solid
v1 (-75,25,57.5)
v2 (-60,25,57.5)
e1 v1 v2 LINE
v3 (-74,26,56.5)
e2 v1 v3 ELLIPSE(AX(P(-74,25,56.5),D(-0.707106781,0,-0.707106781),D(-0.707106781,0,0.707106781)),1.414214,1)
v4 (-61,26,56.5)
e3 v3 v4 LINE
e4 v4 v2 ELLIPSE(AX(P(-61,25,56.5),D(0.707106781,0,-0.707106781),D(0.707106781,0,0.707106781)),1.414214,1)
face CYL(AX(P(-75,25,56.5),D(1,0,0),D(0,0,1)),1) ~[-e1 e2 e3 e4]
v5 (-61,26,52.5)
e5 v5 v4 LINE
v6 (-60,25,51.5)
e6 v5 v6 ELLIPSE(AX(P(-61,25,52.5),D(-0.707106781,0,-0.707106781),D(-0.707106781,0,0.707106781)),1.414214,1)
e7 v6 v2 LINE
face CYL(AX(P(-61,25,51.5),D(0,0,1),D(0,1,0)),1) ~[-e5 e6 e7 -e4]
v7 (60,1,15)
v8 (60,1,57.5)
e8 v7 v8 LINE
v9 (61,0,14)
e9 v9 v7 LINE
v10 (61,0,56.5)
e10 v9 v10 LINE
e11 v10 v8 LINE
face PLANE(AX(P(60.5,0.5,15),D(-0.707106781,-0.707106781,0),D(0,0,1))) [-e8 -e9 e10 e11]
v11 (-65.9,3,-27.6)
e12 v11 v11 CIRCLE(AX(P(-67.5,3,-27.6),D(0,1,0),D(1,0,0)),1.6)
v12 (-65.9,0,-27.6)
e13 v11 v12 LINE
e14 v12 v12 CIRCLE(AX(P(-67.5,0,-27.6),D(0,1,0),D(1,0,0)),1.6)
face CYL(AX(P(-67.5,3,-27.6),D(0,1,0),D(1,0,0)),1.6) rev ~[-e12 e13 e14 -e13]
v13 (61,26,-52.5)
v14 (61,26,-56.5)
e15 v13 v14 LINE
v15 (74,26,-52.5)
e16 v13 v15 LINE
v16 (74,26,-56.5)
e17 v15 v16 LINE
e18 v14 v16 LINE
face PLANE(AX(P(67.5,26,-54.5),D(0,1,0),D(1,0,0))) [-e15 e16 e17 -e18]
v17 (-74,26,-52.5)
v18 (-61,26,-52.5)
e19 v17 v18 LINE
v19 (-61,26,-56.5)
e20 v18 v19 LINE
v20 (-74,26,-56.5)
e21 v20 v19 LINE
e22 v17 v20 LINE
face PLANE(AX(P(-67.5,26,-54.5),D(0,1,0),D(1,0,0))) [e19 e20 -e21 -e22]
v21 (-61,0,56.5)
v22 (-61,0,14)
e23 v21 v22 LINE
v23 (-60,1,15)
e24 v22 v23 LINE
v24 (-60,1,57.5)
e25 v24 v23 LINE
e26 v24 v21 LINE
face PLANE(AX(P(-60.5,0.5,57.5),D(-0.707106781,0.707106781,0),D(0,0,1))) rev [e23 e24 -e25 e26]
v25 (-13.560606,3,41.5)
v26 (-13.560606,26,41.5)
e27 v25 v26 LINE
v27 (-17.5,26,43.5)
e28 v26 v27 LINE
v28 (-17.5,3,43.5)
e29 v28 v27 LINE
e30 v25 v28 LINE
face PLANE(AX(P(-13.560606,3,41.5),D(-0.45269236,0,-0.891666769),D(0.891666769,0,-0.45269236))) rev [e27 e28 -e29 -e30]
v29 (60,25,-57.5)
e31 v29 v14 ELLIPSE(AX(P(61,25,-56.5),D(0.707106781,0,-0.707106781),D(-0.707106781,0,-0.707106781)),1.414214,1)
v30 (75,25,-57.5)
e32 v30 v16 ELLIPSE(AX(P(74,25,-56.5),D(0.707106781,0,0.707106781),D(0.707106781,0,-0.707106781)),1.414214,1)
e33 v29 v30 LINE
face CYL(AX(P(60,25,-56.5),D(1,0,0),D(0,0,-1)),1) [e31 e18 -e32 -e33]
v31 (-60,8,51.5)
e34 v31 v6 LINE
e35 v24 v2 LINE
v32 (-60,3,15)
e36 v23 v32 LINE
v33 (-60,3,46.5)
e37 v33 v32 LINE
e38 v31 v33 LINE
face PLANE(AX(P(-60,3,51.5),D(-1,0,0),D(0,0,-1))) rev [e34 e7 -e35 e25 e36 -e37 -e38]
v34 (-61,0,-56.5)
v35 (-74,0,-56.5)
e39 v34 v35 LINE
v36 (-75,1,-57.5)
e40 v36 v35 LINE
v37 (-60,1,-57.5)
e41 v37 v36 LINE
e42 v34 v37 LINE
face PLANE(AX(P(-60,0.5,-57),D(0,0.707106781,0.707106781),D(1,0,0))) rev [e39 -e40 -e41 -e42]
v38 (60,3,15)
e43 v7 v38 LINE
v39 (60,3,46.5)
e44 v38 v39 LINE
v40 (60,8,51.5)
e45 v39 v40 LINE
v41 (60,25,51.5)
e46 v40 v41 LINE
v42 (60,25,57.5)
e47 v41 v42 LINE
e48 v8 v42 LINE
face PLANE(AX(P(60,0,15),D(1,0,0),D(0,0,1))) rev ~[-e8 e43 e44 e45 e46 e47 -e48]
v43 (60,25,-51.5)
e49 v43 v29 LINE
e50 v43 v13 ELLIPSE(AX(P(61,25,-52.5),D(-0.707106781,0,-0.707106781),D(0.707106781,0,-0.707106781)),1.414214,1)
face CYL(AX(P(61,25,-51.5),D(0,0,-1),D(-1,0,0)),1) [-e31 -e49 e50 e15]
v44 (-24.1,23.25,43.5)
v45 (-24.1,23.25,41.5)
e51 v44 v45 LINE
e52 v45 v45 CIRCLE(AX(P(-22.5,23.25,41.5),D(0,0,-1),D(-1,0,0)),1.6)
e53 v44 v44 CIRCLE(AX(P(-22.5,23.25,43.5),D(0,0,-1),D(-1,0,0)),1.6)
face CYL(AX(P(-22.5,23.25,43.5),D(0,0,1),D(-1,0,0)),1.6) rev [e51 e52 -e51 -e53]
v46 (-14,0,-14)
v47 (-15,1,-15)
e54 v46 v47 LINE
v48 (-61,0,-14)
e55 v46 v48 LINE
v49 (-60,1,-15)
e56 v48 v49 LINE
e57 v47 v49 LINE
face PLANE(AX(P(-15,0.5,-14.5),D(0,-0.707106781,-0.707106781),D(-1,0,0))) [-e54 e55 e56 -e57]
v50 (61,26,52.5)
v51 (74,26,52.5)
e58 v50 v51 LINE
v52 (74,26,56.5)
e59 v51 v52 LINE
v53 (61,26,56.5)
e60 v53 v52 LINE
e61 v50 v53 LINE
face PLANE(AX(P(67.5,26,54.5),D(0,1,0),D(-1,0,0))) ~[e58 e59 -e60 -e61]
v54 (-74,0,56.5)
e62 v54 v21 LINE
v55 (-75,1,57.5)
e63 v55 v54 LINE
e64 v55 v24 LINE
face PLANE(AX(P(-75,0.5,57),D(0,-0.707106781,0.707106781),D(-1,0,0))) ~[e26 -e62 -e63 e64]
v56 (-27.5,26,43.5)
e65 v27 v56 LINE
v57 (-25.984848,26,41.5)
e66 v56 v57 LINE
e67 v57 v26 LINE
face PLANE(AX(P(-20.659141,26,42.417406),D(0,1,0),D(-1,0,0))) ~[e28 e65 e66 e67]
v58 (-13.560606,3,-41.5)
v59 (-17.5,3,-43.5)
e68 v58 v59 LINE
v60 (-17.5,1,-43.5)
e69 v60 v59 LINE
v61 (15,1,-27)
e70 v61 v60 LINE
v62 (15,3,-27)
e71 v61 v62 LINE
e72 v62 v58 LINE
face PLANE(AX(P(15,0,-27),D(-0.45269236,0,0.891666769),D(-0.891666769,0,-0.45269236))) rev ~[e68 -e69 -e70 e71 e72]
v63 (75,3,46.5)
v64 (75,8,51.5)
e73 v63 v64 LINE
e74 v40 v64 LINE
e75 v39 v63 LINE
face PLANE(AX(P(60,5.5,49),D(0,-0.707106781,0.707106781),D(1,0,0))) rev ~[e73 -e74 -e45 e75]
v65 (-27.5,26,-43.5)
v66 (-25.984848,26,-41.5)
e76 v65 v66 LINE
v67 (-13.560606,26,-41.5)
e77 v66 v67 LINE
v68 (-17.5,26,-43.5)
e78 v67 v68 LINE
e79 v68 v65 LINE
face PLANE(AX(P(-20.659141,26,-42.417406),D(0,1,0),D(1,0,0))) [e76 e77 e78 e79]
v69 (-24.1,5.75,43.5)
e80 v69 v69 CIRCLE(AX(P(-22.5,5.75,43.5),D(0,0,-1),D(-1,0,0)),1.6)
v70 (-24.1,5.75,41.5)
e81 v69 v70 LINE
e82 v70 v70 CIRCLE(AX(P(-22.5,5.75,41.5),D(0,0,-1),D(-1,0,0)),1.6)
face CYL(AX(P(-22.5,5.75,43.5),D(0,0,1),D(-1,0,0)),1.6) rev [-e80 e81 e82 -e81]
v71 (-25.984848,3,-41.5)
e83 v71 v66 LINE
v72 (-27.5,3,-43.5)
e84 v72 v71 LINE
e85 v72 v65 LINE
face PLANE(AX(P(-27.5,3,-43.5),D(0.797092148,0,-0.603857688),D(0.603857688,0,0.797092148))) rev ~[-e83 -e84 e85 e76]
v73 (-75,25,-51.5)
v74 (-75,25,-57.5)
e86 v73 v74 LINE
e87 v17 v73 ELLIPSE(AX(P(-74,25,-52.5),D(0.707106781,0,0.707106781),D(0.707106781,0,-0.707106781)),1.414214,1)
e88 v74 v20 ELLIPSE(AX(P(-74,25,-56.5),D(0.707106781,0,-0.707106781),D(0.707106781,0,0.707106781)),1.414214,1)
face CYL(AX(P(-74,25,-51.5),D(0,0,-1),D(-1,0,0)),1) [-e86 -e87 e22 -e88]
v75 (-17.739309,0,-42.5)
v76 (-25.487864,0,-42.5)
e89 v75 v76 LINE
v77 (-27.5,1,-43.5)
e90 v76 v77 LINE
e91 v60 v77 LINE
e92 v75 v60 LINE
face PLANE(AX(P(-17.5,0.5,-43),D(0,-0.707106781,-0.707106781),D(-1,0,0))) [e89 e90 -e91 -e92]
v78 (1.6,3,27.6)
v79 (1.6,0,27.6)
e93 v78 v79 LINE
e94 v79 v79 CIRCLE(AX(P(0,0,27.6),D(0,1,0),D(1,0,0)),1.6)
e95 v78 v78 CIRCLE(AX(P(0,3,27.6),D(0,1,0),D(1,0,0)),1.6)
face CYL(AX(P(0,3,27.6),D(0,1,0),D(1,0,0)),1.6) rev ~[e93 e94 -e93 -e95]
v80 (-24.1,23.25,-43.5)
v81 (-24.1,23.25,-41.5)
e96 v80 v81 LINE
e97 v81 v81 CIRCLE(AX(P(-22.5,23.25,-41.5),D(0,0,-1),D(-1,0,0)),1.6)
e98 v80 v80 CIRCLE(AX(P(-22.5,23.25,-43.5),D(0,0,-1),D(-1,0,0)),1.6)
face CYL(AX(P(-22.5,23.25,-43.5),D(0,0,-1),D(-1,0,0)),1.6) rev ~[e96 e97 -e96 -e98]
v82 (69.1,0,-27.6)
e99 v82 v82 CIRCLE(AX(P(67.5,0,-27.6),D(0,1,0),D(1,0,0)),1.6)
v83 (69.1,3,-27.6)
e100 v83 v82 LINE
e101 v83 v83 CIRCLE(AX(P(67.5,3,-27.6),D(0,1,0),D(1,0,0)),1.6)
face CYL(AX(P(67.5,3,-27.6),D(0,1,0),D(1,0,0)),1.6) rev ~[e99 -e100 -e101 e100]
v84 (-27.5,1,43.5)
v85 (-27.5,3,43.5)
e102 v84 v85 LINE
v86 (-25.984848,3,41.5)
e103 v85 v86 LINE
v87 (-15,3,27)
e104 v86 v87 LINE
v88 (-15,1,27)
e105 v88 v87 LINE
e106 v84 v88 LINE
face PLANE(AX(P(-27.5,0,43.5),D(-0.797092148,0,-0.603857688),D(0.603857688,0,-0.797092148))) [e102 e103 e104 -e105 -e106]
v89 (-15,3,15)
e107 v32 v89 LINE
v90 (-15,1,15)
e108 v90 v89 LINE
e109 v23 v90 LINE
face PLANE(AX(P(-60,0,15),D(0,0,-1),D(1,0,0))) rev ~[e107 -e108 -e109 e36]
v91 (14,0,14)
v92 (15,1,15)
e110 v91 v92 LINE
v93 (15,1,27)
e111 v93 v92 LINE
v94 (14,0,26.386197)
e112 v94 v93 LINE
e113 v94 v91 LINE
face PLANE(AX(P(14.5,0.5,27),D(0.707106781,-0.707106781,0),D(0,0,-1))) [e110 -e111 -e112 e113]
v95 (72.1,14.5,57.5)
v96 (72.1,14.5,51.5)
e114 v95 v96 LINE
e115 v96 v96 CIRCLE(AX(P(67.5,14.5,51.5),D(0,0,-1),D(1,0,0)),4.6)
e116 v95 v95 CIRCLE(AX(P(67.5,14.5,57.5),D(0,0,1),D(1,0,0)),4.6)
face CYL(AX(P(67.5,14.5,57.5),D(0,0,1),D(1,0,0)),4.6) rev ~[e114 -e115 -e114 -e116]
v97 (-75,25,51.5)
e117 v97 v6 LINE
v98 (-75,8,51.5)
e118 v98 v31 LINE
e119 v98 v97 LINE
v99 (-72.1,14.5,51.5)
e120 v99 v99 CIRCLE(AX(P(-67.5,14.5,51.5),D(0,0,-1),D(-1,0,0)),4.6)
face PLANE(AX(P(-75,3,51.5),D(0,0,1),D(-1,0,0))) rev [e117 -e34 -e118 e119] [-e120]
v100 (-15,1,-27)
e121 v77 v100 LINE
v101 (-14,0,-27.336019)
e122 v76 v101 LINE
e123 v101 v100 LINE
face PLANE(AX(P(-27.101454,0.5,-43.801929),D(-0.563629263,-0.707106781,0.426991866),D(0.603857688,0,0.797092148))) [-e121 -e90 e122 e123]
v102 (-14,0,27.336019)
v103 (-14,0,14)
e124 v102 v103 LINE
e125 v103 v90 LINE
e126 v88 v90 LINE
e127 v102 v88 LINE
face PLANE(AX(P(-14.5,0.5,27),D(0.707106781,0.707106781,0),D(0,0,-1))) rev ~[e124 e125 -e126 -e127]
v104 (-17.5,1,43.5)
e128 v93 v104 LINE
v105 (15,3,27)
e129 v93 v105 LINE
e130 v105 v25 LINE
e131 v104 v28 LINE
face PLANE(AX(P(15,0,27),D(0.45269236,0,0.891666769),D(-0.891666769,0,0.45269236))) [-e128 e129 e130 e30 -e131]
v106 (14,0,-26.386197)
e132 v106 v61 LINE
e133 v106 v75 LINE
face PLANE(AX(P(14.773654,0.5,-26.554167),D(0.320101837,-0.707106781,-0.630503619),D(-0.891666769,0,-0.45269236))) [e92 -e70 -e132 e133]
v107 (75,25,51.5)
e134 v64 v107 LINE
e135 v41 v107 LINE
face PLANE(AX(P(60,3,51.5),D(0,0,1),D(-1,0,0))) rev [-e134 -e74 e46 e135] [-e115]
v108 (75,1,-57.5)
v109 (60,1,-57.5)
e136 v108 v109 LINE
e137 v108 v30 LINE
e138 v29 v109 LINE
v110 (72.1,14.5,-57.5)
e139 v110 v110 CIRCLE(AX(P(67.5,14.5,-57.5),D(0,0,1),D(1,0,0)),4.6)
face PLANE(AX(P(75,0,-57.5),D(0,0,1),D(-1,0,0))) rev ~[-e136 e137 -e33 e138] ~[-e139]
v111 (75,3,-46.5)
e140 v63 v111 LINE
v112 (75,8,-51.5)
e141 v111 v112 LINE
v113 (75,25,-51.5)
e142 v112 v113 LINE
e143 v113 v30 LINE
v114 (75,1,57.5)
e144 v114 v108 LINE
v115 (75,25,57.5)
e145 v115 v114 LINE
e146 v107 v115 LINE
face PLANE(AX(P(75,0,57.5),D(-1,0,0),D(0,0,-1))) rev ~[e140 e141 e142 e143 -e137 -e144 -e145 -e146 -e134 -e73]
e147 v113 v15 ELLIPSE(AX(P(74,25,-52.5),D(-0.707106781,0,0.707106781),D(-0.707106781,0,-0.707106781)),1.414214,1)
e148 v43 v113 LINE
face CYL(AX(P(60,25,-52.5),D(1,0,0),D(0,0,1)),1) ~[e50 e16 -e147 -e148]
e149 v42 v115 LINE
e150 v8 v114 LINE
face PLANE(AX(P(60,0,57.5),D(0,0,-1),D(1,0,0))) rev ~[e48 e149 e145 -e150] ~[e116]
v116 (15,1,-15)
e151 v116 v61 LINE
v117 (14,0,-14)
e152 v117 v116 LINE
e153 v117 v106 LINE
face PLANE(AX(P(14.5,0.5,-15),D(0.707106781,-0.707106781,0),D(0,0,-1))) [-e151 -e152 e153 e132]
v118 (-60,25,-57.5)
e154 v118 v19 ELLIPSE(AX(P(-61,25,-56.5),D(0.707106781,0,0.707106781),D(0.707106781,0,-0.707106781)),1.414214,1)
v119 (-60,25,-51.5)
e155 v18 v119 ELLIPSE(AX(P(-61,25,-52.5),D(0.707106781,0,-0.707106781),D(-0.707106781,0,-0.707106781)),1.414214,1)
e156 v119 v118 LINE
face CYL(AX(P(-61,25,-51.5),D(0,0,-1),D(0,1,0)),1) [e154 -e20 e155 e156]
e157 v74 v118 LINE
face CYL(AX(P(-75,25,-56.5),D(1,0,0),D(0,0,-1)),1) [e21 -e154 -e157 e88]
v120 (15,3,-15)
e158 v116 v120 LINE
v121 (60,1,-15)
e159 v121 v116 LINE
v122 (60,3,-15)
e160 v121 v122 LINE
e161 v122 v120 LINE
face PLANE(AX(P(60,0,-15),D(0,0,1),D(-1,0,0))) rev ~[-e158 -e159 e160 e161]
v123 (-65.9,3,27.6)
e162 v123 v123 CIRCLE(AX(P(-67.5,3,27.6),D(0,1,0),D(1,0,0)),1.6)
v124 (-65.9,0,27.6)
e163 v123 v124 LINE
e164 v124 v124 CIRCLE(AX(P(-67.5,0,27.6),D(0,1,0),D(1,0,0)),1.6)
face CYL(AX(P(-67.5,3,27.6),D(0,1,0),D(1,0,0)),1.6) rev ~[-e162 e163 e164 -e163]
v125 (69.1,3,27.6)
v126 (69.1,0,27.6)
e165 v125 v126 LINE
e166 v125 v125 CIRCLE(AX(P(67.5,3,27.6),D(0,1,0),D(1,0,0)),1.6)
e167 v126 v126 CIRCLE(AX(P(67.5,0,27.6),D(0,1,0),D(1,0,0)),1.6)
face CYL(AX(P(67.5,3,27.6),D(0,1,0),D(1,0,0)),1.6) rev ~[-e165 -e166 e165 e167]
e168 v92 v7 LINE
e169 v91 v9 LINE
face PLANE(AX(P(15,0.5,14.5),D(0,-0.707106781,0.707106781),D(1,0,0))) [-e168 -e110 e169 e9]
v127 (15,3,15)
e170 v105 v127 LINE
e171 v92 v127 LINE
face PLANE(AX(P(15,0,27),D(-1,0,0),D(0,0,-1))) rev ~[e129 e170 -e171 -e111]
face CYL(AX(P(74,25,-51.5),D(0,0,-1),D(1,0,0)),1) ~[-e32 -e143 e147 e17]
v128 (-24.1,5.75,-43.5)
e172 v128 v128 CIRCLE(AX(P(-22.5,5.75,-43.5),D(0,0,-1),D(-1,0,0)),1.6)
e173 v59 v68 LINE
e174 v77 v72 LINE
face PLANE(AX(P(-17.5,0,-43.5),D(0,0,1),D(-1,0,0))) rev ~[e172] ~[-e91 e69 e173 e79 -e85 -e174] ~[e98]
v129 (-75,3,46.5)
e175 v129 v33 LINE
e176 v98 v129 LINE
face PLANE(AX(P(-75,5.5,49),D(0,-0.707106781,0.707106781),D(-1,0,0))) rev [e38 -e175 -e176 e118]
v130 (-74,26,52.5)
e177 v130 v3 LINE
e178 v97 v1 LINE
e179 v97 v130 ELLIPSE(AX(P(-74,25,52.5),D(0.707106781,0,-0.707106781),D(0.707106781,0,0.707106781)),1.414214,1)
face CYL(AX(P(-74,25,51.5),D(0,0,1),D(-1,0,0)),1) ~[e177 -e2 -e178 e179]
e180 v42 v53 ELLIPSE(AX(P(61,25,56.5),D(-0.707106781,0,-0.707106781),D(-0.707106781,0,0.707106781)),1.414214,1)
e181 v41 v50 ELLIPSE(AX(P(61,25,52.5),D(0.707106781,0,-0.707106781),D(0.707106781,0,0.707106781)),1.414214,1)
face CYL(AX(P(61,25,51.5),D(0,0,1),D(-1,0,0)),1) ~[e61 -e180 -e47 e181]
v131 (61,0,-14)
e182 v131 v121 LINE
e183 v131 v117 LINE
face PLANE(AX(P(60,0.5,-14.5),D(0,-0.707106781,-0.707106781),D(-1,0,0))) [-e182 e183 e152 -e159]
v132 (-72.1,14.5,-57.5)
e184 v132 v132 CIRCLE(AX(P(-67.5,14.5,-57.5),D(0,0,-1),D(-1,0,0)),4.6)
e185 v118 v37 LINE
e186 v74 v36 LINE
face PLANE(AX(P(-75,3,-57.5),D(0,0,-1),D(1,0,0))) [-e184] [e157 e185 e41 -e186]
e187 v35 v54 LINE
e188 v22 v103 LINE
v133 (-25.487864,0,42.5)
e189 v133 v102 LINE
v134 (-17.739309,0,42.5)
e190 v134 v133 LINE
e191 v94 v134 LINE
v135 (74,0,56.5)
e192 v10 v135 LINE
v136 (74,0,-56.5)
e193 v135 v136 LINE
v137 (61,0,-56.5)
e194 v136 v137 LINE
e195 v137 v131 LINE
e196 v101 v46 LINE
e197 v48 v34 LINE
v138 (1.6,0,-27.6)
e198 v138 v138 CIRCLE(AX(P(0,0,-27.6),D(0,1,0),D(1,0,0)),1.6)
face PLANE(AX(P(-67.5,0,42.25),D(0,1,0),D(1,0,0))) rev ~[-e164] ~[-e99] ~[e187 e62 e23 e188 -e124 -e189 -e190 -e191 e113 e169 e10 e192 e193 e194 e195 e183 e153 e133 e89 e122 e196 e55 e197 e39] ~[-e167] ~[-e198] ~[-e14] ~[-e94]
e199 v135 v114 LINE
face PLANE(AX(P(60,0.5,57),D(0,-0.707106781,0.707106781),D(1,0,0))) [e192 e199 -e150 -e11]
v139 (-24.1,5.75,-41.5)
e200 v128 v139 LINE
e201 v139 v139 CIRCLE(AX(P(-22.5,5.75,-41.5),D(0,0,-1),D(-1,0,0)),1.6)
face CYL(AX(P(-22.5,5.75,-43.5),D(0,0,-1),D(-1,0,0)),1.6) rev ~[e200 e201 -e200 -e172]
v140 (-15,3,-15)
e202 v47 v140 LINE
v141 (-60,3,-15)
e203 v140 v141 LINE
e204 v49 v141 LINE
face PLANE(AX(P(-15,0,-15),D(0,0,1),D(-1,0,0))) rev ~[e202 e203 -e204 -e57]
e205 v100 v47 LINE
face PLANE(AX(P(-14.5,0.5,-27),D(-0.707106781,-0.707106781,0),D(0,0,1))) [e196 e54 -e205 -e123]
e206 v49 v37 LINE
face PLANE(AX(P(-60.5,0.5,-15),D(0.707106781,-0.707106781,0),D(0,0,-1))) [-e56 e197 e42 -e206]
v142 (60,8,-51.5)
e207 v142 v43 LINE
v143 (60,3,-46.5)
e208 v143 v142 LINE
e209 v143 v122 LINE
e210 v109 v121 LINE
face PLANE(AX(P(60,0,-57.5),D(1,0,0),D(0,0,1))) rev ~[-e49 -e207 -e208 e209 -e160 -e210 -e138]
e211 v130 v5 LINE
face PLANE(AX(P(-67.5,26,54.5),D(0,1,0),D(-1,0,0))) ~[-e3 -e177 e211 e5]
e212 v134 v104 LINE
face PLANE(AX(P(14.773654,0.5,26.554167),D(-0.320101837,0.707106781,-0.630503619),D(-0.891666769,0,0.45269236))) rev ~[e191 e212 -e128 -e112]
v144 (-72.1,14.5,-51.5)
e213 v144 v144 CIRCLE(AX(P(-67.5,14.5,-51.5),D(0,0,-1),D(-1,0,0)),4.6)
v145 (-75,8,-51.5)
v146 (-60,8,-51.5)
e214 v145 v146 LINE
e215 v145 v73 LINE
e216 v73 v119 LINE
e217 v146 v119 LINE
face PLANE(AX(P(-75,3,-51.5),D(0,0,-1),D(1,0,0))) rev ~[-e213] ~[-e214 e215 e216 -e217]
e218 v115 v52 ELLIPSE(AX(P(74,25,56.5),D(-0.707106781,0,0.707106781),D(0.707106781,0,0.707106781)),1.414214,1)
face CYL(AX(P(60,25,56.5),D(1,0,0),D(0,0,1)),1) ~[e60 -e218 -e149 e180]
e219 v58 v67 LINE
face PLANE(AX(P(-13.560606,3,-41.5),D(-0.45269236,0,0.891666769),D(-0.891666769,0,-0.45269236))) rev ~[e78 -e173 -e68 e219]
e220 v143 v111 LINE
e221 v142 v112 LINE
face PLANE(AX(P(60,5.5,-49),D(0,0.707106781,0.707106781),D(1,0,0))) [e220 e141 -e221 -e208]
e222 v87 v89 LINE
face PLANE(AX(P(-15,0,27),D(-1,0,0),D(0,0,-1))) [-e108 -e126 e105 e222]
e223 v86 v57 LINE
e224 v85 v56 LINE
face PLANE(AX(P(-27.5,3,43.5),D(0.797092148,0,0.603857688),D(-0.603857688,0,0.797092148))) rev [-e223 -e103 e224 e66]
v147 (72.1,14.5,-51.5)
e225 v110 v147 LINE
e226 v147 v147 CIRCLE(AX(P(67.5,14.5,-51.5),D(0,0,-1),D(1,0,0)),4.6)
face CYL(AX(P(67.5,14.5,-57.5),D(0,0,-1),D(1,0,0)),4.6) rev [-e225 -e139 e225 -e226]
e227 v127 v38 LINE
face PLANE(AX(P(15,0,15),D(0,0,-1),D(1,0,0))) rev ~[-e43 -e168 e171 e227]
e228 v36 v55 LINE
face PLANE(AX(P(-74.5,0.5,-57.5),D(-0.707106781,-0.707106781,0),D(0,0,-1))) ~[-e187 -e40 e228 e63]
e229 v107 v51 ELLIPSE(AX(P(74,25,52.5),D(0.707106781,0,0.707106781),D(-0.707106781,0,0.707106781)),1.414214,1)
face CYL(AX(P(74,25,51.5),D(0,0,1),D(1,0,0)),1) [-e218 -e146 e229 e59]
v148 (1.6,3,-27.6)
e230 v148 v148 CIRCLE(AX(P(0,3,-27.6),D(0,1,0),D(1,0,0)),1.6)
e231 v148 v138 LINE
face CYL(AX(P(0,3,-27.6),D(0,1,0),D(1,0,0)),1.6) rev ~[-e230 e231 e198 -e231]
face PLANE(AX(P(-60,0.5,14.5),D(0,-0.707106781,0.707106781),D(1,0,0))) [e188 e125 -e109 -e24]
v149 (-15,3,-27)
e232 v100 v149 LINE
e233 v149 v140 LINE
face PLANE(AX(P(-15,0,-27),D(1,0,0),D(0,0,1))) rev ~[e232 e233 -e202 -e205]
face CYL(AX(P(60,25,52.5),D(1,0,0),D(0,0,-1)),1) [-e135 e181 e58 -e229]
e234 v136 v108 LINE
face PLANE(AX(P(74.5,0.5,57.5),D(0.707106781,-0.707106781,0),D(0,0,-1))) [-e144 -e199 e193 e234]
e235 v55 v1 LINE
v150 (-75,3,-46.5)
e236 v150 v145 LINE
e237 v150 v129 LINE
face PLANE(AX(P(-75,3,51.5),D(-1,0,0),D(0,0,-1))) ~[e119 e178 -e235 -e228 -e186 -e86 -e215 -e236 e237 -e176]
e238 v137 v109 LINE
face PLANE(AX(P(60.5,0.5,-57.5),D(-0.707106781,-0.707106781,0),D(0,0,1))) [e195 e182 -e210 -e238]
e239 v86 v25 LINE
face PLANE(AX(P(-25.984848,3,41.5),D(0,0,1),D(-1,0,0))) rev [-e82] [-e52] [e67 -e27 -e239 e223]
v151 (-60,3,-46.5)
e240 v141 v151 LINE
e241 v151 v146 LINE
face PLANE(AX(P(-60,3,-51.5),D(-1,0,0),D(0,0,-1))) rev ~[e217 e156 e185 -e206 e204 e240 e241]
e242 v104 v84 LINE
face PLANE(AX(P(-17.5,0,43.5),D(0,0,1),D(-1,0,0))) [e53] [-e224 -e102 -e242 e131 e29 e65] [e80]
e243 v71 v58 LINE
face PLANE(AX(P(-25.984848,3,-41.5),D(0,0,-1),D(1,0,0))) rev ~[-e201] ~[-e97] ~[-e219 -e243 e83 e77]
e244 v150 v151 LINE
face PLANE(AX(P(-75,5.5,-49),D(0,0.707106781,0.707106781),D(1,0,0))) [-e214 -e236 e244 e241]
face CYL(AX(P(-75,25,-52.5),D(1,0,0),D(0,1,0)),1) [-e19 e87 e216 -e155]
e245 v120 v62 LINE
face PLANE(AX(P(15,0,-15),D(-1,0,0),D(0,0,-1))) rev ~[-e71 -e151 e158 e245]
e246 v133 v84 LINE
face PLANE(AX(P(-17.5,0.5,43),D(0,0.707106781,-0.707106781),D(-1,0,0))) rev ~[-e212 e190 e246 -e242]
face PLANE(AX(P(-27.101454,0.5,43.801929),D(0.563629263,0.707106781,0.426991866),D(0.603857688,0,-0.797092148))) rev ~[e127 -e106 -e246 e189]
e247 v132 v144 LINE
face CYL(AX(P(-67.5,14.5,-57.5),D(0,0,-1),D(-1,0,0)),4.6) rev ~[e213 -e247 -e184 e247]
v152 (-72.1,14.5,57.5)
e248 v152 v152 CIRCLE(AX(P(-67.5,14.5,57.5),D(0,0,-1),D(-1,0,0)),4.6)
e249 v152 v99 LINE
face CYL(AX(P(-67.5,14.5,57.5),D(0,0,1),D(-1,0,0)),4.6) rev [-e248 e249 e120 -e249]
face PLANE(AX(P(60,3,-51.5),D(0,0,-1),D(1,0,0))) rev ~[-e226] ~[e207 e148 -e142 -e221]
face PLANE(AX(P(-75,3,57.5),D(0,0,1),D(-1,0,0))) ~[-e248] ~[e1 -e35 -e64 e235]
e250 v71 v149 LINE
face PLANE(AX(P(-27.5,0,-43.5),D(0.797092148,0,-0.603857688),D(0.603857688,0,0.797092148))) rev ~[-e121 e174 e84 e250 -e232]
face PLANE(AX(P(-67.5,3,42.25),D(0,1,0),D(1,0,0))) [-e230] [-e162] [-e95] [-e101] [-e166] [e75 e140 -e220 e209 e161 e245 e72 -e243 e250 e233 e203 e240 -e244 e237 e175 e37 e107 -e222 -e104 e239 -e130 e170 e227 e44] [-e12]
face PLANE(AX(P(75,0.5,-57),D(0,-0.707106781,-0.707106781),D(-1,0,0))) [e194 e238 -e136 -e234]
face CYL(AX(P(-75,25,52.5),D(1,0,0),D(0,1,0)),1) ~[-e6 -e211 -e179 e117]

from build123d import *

# Parameters (mm, degrees)
SKETCH2_W           = 15
SKETCH2_H           = 30.5
SKETCH2_W_2         = 7.5
SKETCH2_H_2         = 30
SKETCH2_W_3         = 45
SKETCH2_W_4         = 30
SKETCH2_H_3         = 12
BOSS_EXTRUDE1_DEPTH = 3
SKETCH3_W           = 15
SKETCH3_H           = 6
BOSS_EXTRUDE2_DEPTH = 23
SKETCH4_R           = 1.6
CUT_EXTRUDE1_DEPTH  = 23
SKETCH5_R           = 4.6
CUT_EXTRUDE2_DEPTH  = 23
SKETCH6_R           = 1.6
CUT_EXTRUDE3_DEPTH  = 23
CHAMFER1_SIZE       = 1
FILLET1_R           = 1
CHAMFER2_SIZE       = 5


with BuildPart() as part:
    # Sketch2 → Boss-Extrude1 (new body)
    with BuildSketch(Plane(origin=(0, 0, 0), x_dir=(1, 0, 0), z_dir=(0, 1, 0))):
        with Locations((-67.5, -42.25)):
            Rectangle(SKETCH2_W, SKETCH2_H)
        Polygon((-60, 57.5), (-75, 57.5), (-75, -27), (-60, -27), (-60, -15), (-67.5, -15), (-67.5, 15), (-60, 15), (-60, 27), align=None)
        with Locations((-63.75, 0)):
            Rectangle(SKETCH2_W_2, SKETCH2_H_2)
        with Locations((-37.5, 0)):
            Rectangle(SKETCH2_W_3, SKETCH2_H_2)
        Rectangle(SKETCH2_W_4, SKETCH2_H_2)
        Polygon((-15, 27), (-15, 15), (15, 15), (15, 27), (-17.5, 43.5), (-27.5, 43.5), align=None)
        Polygon((-27.5, -43.5), (-15, -27), (15, -27), (-17.5, -43.5), align=None)
        with Locations((0, -21)):
            Rectangle(SKETCH2_W_4, SKETCH2_H_3)
        with Locations((37.5, 0)):
            Rectangle(SKETCH2_W_3, SKETCH2_H_2)
        with Locations((63.75, 0)):
            Rectangle(SKETCH2_W_2, SKETCH2_H_2)
        Polygon((60, 27), (60, 15), (67.5, 15), (67.5, -15), (60, -15), (60, -27), (75, -27), (75, 57.5), (60, 57.5), align=None)
        with Locations((67.5, -42.25)):
            Rectangle(SKETCH2_W, SKETCH2_H)
    extrude(amount=BOSS_EXTRUDE1_DEPTH)

    # Sketch3 → Boss-Extrude2 (add)
    with BuildSketch(Plane(origin=(0, 3, 0), x_dir=(1, 0, 0), z_dir=(0, 1, 0))):
        with Locations((-67.5, 54.5)):
            Rectangle(SKETCH3_W, SKETCH3_H)
        Polygon((-17.5, 43.5), (-27.5, 43.5), (-25.984848485, 41.5), (-13.560606061, 41.5), align=None)
        with Locations((67.5, 54.5)):
            Rectangle(SKETCH3_W, SKETCH3_H)
    extrude(amount=BOSS_EXTRUDE2_DEPTH)

    # Sketch4 → Cut-Extrude1 (cut)
    with BuildSketch(Plane(origin=(0, 0, -43.5), x_dir=(-1, 0, 0), z_dir=(0, 0, -1))):
        with Locations((22.5, 23.25)):
            Circle(SKETCH4_R)
        with Locations((22.5, 5.75)):
            Circle(SKETCH4_R)
    extrude(amount=-CUT_EXTRUDE1_DEPTH, mode=Mode.SUBTRACT)

    # Sketch5 → Cut-Extrude2 (cut)
    with BuildSketch(Plane(origin=(0, 0, -57.5), x_dir=(-1, 0, 0), z_dir=(0, 0, -1))):
        with Locations((67.5, 14.5)):
            Circle(SKETCH5_R)
    cut_extrude2 = extrude(amount=-CUT_EXTRUDE2_DEPTH, mode=Mode.SUBTRACT)

    # Mirror3: Cut-Extrude2 across plane
    add(cut_extrude2.mirror(Plane(origin=(0, 0, 0), x_dir=(0, 0, 1), z_dir=(1, 0, 0))), mode=Mode.SUBTRACT)

    # Mirror4: part across plane


with BuildPart() as part_1:
    add(part.part)
    add(part.part.mirror(Plane.XY))

    # Sketch6 → Cut-Extrude3 (cut)
    with BuildSketch(Plane(origin=(0, 3, 0), x_dir=(1, 0, 0), z_dir=(0, 1, 0))):
        with Locations((-67.5, 27.6)):
            Circle(SKETCH6_R)
        with Locations((0, 27.6)):
            Circle(SKETCH6_R)
        with Locations((67.5, 27.6)):
            Circle(SKETCH6_R)
        with Locations((67.5, -27.6)):
            Circle(SKETCH6_R)
        with Locations((0, -27.6)):
            Circle(SKETCH6_R)
        with Locations((-67.5, -27.6)):
            Circle(SKETCH6_R)
    extrude(amount=-CUT_EXTRUDE3_DEPTH, mode=Mode.SUBTRACT)

    # Chamfer1
    chamfer1_edges = [part_1.edges().sort_by_distance(p)[0] for p in [
        (-67.5, 0, 57.5),
        (-75, 0, 0),
        (-67.5, 0, -57.5),
        (-60, 0, -36.25),
        (-37.5, 0, -15),
        (-15, 0, -21),
        (-21.25, 0, -35.25),
        (-22.5, 0, -43.5),
        (-1.25, 0, -35.25),
        (15, 0, -21),
        (37.5, 0, -15),
        (60, 0, -36.25),
        (67.5, 0, -57.5),
        (75, 0, 0),
        (67.5, 0, 57.5),
        (60, 0, 36.25),
        (37.5, 0, 15),
        (15, 0, 21),
        (-1.25, 0, 35.25),
        (-22.5, 0, 43.5),
        (-21.25, 0, 35.25),
        (-15, 0, 21),
        (-37.5, 0, 15),
        (-60, 0, 36.25),
    ]]
    chamfer(chamfer1_edges, length=CHAMFER1_SIZE)

    # Fillet1
    fillet1_edges = [part_1.edges().sort_by_distance(p)[0] for p in [
        (60, 26, 54.5),
        (75, 26, 54.5),
        (67.5, 26, 51.5),
        (67.5, 26, 57.5),
        (75, 26, -54.5),
        (60, 26, -54.5),
        (67.5, 26, -51.5),
        (67.5, 26, -57.5),
        (-67.5, 26, -57.5),
        (-60, 26, -54.5),
        (-67.5, 26, -51.5),
        (-75, 26, -54.5),
        (-75, 26, 54.5),
        (-60, 26, 54.5),
        (-67.5, 26, 51.5),
        (-67.5, 26, 57.5),
    ]]
    fillet(fillet1_edges, radius=FILLET1_R)

    # Chamfer2
    chamfer2_edges = [part_1.edges().sort_by_distance(p)[0] for p in [
        (-67.5, 3, 51.5),
        (67.5, 3, 51.5),
        (67.5, 3, -51.5),
        (-67.5, 3, -51.5),
    ]]
    chamfer(chamfer2_edges, length=CHAMFER2_SIZE)


solid = part_1.part
